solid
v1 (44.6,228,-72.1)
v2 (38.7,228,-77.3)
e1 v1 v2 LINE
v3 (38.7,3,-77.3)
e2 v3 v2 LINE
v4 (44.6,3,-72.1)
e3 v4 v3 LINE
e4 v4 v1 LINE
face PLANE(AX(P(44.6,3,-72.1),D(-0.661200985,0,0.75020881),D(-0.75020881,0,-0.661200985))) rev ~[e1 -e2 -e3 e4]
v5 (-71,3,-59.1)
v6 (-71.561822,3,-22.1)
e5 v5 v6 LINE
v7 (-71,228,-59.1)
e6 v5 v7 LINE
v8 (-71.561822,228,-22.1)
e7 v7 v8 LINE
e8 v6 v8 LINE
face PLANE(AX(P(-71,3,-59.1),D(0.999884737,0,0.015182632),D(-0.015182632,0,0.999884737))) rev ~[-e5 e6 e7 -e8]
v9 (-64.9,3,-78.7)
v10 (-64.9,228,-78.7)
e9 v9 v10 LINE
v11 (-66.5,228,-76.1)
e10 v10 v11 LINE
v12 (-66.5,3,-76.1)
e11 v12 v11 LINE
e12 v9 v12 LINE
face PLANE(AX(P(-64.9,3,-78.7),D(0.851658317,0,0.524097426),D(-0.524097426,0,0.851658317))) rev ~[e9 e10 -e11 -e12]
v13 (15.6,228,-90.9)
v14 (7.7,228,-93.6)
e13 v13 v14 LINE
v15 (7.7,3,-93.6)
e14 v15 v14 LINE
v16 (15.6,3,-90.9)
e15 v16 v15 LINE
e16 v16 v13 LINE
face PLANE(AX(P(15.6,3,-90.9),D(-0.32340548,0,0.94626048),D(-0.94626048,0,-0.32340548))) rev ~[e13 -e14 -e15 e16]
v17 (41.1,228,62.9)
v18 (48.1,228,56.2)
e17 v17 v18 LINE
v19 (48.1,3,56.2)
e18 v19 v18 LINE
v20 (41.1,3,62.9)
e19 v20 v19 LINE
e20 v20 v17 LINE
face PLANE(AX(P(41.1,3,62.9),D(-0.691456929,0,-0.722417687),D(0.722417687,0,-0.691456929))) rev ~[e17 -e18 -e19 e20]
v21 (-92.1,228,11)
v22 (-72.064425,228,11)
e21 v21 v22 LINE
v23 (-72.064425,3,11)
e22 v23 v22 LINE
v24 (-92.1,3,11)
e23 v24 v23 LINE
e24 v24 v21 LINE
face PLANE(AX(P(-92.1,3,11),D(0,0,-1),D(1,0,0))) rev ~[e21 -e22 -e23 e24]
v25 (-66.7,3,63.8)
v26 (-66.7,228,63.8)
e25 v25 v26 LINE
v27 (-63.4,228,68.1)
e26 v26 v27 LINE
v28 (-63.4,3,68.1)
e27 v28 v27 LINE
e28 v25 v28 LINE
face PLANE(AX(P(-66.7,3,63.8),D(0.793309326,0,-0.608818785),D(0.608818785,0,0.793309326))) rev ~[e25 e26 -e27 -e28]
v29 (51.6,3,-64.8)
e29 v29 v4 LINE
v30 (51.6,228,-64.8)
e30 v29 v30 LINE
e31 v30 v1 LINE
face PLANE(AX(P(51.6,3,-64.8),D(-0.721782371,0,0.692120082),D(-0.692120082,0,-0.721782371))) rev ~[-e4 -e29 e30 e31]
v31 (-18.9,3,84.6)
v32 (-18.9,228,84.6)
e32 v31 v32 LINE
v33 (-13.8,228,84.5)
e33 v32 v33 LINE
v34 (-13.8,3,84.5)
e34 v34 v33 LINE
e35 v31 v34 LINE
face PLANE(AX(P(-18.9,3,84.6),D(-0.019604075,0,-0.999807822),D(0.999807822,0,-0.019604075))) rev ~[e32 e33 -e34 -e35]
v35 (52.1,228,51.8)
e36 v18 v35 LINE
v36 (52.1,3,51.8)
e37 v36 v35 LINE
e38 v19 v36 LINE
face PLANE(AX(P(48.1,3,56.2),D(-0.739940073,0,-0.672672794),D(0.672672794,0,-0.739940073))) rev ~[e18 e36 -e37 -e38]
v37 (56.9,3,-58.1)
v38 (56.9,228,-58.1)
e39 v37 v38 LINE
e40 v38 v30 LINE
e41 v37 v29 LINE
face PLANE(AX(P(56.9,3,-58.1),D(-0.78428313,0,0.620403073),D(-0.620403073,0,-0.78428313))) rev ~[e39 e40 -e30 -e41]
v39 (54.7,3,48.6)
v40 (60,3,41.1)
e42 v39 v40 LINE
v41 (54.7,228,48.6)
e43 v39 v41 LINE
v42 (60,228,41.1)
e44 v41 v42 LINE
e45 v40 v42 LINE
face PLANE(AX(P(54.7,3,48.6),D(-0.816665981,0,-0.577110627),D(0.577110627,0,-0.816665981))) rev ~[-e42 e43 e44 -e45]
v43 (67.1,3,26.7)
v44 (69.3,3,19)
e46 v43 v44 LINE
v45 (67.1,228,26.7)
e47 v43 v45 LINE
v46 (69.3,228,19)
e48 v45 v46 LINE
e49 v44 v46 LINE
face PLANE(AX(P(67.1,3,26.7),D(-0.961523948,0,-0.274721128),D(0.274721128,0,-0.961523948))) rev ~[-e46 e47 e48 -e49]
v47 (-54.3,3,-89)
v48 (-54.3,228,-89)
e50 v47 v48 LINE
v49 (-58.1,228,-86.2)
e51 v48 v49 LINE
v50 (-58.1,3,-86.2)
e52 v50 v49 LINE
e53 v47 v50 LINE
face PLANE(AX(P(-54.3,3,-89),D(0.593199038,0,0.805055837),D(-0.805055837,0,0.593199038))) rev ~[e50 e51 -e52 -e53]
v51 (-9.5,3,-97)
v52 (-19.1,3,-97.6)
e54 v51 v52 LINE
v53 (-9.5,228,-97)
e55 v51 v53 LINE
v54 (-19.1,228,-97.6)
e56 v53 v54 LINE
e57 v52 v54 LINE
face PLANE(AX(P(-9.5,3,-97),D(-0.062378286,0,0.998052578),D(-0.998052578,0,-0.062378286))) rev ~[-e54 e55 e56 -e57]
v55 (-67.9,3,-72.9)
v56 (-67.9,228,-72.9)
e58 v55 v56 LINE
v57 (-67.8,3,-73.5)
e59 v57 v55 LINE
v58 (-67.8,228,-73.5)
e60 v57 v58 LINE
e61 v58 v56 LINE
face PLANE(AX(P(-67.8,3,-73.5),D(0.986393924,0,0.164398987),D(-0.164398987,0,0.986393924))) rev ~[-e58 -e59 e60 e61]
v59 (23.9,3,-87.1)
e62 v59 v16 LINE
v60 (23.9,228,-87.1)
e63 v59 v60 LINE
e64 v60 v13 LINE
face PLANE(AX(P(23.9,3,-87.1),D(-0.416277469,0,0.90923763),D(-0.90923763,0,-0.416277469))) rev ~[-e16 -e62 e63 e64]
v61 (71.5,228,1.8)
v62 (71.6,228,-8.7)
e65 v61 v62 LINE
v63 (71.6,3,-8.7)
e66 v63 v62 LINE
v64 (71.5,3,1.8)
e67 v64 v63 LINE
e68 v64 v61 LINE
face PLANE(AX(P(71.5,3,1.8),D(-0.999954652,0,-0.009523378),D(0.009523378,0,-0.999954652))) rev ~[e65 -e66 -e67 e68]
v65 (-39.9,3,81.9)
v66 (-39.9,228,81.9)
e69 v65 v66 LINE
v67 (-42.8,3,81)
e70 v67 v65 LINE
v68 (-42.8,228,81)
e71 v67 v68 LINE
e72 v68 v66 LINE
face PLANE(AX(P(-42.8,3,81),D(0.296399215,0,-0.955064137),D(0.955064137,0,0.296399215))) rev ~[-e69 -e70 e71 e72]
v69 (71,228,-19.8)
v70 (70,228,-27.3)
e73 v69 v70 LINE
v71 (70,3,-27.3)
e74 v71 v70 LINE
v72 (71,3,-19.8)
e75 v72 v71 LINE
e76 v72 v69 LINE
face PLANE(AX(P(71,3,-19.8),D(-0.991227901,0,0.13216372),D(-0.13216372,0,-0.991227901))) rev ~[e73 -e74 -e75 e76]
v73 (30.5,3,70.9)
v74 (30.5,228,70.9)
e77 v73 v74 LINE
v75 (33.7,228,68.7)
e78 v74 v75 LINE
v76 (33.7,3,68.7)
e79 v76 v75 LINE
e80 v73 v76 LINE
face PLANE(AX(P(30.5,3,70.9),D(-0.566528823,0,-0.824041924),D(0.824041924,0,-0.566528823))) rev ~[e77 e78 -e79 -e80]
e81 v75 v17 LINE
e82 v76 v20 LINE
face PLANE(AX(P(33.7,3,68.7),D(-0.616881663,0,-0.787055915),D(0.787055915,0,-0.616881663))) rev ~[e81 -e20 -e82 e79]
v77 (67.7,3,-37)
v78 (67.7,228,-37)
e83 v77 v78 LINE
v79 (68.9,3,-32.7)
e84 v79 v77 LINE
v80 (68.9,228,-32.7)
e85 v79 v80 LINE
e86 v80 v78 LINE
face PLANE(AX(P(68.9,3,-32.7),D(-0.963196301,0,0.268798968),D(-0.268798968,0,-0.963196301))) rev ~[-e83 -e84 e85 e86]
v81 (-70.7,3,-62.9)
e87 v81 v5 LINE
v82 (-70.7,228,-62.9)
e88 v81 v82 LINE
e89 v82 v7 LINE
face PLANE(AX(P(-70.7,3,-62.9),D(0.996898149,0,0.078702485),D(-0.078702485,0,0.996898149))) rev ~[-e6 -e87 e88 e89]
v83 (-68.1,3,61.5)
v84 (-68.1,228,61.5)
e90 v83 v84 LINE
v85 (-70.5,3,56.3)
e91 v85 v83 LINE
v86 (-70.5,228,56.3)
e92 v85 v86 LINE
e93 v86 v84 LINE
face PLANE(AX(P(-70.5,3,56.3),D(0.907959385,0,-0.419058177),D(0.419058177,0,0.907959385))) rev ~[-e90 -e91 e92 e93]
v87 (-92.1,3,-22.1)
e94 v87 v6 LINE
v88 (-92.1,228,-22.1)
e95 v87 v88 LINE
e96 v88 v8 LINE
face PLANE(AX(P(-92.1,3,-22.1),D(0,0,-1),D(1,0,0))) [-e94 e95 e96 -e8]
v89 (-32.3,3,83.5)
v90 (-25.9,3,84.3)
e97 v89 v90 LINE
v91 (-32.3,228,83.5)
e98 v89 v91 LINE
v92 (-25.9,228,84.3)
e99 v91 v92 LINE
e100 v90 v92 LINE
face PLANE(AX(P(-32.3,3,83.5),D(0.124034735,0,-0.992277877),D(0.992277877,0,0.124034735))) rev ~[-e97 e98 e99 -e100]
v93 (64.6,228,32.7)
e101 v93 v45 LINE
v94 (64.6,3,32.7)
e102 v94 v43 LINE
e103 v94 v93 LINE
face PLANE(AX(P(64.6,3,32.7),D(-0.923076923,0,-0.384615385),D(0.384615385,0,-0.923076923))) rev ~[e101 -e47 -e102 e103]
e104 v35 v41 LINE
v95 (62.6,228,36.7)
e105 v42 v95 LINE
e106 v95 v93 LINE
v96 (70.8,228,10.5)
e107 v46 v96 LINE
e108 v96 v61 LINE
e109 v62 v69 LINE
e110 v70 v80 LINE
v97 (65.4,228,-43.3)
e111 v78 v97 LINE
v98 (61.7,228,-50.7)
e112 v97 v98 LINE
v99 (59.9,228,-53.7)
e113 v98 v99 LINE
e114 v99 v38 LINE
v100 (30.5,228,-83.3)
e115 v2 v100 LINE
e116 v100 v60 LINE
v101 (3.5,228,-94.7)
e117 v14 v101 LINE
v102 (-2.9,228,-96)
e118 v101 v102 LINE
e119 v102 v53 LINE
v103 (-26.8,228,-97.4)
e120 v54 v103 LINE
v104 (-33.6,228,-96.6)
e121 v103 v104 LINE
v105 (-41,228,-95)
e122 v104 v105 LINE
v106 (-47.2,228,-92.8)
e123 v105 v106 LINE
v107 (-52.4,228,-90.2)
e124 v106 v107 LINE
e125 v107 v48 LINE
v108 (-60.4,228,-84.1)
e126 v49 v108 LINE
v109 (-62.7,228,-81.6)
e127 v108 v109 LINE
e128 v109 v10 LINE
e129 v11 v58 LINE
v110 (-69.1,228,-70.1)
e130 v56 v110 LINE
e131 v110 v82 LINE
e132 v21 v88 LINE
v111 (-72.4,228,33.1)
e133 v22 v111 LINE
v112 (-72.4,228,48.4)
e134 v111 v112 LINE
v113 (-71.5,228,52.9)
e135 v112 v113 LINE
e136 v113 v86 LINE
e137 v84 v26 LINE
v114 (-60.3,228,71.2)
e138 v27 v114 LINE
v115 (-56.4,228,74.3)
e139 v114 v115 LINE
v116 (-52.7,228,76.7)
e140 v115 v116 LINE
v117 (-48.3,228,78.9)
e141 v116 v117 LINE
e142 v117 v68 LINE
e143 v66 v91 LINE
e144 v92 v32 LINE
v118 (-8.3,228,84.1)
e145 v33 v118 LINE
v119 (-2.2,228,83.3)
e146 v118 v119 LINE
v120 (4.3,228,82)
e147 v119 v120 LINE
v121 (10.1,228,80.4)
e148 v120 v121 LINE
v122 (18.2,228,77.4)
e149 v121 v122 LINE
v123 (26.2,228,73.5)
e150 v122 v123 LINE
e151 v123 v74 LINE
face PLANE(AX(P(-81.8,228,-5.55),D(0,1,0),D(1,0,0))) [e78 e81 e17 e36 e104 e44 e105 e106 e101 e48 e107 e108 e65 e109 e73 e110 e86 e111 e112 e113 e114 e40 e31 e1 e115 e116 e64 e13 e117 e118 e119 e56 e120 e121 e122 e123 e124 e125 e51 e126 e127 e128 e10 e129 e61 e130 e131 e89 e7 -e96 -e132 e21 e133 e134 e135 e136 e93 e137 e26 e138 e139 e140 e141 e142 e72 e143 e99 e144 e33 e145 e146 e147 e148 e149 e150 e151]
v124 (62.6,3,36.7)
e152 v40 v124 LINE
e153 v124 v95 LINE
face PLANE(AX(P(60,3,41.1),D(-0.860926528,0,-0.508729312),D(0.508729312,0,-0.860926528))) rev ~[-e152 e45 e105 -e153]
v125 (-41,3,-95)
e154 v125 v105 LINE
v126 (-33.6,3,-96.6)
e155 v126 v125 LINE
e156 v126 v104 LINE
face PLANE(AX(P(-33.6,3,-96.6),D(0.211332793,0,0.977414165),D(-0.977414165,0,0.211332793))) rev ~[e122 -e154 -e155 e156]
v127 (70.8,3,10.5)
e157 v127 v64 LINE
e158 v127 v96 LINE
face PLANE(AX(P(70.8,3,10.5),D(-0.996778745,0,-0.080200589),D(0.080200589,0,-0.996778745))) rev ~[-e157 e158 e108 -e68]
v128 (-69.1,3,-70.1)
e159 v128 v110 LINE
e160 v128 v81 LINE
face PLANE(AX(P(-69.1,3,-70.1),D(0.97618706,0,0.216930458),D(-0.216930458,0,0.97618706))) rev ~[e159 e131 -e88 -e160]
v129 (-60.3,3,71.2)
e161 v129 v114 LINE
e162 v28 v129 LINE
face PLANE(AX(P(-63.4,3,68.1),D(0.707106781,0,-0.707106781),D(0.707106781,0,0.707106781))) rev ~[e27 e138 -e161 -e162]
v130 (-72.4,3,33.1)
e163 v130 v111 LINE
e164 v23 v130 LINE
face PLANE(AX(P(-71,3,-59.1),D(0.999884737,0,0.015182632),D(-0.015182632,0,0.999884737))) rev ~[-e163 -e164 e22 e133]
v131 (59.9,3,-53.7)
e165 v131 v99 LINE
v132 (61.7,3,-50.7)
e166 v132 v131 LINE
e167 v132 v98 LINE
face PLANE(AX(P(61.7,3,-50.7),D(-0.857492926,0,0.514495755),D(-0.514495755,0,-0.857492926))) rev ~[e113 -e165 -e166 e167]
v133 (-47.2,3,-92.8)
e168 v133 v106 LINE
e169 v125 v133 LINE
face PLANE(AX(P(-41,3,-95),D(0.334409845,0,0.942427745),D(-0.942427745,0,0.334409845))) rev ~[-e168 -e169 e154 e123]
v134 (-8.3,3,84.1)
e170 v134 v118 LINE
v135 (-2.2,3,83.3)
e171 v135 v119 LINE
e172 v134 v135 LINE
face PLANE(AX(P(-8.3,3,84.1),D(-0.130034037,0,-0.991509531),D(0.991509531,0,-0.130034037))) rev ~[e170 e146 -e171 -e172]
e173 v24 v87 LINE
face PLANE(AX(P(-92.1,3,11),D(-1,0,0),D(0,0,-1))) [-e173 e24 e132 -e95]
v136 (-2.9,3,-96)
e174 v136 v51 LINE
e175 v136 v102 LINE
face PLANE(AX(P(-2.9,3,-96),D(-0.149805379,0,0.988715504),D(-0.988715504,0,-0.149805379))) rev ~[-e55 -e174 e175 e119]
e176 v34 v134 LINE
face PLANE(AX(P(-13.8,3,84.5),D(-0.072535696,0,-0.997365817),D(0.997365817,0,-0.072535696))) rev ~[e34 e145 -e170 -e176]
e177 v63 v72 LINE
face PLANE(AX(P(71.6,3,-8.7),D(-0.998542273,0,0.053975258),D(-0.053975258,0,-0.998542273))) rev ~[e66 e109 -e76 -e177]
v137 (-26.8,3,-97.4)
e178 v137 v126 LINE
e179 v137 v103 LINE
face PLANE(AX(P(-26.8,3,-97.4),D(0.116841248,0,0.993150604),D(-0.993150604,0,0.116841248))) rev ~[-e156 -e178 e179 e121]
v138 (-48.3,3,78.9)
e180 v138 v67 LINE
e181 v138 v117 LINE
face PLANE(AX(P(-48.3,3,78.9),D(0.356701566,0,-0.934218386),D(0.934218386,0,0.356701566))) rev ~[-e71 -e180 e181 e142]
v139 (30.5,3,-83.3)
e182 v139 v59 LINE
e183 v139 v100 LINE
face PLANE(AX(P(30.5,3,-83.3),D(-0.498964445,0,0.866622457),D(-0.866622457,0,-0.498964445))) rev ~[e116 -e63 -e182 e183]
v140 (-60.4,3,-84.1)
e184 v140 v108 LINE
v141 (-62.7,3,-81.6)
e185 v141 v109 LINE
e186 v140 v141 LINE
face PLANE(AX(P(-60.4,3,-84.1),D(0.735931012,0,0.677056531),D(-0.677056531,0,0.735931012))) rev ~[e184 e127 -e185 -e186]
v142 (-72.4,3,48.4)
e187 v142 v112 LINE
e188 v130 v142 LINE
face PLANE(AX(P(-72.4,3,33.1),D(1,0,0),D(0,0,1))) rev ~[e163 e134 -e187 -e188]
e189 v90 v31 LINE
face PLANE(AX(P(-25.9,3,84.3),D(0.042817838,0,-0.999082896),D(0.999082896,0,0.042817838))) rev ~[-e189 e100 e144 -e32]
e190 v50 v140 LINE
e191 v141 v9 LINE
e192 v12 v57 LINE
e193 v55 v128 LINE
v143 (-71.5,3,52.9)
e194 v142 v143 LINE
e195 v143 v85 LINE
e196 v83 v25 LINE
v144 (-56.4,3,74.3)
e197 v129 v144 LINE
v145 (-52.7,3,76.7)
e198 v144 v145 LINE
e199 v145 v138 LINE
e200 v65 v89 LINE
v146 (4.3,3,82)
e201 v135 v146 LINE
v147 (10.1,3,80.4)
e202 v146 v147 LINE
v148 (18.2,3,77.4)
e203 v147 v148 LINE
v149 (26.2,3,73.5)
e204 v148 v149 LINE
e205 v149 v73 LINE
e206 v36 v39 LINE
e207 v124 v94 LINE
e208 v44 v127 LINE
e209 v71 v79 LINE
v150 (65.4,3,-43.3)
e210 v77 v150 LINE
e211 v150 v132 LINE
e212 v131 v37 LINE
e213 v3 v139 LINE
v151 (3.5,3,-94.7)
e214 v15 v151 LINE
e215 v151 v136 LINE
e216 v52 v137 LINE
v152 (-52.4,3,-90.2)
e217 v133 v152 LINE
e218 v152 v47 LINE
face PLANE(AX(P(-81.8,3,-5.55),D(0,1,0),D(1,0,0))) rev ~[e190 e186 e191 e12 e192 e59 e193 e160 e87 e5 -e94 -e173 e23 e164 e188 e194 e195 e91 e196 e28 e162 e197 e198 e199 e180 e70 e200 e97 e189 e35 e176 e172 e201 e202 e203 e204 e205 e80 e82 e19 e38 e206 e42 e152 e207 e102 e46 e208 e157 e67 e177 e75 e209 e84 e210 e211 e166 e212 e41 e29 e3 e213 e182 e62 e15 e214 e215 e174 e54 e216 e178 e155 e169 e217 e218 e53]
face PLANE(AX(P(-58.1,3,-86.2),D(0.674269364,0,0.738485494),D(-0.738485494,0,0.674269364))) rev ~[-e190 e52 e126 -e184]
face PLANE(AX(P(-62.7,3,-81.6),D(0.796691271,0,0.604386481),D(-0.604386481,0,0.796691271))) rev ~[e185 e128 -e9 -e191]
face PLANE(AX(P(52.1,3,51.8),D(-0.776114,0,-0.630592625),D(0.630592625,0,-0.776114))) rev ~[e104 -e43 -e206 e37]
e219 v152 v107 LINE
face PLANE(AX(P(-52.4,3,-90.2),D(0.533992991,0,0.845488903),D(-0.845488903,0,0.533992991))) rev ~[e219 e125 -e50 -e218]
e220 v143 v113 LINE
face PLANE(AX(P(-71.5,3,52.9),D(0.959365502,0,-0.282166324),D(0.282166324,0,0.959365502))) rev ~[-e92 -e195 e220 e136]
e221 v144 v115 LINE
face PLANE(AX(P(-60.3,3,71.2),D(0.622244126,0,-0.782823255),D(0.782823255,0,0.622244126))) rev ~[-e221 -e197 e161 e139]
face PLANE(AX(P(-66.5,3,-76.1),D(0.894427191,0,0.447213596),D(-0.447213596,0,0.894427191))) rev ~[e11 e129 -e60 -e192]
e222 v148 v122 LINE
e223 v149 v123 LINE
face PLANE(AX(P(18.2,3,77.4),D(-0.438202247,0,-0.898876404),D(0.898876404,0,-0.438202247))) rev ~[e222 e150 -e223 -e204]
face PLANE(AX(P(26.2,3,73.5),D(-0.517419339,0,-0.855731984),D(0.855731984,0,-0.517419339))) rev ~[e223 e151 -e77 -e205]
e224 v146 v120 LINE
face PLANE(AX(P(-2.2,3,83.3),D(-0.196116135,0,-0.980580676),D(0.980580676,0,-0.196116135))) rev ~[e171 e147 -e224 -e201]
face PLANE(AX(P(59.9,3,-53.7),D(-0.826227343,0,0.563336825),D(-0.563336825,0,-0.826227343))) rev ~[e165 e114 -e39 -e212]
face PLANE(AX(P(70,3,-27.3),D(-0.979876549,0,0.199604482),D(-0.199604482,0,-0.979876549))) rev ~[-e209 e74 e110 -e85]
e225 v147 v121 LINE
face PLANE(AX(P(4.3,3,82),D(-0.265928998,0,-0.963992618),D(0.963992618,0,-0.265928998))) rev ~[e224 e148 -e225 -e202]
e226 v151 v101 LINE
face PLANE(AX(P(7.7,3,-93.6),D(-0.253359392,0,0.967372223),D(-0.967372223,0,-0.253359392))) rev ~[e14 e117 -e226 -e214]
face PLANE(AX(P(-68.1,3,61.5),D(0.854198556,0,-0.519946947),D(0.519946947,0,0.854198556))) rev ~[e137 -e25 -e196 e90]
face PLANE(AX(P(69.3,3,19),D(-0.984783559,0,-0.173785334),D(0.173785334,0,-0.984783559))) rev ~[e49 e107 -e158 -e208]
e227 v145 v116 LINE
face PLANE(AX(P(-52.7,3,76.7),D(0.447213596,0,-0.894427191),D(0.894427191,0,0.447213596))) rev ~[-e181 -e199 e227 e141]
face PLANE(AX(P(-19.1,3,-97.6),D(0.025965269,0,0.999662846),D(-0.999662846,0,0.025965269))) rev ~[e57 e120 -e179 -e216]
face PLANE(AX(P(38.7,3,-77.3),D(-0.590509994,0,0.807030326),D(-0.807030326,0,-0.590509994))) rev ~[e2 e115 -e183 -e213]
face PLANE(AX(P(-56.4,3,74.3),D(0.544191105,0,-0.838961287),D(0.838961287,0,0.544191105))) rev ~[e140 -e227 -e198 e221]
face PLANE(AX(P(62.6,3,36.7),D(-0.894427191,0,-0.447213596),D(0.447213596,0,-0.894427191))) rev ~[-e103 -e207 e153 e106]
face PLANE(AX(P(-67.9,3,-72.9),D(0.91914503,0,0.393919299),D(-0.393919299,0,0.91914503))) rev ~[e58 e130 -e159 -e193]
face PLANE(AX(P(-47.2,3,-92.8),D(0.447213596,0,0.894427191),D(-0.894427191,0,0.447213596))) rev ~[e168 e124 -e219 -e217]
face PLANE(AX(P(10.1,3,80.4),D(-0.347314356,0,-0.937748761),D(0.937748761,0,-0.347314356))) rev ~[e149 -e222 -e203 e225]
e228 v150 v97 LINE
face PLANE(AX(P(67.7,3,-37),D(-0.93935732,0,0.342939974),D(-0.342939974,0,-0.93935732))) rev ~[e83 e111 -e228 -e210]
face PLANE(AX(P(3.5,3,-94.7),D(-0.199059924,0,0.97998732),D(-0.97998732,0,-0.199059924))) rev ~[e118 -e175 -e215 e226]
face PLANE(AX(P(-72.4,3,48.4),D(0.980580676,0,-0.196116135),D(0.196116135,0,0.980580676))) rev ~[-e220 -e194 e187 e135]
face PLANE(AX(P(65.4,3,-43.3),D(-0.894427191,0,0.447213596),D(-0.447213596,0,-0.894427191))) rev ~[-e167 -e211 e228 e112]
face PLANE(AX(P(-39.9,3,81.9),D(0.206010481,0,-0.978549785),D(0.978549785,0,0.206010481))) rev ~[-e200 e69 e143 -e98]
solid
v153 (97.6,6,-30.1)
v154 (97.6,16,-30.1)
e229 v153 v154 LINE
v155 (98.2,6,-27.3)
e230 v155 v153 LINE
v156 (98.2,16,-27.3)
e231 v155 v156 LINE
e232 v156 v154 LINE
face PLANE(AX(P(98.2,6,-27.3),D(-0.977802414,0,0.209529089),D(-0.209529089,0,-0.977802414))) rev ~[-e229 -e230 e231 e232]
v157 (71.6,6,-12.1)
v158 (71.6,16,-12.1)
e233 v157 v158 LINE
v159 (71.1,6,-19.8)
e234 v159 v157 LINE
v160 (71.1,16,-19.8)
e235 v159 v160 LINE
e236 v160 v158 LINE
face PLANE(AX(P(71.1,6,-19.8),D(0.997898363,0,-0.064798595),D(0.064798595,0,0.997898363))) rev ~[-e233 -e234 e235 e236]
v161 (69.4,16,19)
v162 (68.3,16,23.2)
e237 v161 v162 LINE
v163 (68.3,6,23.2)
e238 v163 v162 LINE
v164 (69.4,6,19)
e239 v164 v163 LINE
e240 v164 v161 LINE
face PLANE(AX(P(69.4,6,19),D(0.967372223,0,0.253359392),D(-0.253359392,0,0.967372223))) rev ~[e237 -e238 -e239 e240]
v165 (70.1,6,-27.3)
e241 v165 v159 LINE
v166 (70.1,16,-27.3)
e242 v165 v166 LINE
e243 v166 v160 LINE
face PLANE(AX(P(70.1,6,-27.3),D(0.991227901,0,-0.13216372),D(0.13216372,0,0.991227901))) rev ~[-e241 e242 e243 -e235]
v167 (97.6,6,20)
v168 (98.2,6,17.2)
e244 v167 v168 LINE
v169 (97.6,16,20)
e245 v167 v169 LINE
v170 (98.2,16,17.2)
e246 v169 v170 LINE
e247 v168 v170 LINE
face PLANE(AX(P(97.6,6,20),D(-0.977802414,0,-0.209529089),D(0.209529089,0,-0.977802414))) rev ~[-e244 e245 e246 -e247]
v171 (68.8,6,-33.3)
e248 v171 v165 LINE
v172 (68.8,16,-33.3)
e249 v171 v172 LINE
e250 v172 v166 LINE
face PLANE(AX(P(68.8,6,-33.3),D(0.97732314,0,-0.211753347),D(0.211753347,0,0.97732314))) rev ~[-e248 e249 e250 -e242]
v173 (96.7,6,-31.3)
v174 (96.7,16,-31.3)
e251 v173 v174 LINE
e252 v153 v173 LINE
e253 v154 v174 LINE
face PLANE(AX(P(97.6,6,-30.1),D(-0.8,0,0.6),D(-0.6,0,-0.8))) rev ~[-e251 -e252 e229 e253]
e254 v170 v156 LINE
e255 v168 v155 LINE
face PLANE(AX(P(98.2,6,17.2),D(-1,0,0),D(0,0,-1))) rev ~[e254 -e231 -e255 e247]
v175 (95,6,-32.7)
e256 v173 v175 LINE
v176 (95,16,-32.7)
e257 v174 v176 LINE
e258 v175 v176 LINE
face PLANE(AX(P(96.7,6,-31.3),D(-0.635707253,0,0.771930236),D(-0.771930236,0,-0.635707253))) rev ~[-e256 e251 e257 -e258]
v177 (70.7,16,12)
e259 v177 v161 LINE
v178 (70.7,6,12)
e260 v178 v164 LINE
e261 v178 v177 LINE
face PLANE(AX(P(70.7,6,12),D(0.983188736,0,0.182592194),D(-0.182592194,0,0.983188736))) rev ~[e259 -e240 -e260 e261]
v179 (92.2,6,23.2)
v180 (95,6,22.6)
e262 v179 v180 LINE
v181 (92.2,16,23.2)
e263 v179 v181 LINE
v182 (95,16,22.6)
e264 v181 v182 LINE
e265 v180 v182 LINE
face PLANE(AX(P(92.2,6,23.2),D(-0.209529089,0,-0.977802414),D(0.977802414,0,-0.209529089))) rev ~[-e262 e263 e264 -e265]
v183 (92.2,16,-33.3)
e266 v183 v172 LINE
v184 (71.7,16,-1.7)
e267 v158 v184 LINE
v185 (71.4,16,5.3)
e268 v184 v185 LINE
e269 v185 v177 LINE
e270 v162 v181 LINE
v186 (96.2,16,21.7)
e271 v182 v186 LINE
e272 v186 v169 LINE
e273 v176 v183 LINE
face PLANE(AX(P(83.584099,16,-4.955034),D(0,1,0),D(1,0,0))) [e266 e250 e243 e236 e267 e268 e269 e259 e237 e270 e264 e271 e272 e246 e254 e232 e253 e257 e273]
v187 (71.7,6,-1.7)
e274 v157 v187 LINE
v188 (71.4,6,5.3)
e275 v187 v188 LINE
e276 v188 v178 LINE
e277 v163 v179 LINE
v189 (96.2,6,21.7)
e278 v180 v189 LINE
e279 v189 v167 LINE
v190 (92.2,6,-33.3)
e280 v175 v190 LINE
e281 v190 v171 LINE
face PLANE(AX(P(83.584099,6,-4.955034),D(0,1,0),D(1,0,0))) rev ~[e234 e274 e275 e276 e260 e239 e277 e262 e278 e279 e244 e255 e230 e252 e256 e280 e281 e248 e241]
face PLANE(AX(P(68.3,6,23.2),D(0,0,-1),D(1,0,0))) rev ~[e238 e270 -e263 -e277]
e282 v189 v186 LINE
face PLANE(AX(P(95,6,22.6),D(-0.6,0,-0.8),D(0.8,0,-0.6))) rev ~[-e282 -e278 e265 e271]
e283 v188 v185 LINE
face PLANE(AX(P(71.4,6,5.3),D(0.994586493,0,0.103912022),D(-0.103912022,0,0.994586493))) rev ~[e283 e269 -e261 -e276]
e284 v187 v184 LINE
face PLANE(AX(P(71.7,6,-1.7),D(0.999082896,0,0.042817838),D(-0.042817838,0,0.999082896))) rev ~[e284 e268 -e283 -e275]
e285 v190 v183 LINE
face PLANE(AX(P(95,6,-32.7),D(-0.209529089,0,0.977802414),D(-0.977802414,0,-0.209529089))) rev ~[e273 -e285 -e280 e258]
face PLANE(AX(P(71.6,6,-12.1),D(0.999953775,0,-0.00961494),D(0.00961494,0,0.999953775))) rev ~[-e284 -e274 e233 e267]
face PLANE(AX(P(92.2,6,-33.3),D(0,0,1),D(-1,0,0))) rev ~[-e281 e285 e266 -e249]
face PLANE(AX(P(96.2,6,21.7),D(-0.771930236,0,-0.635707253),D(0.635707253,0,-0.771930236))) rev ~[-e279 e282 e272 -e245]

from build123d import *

# Parameters (mm, degrees)
BIN_BODY_DEPTH         = 225
SKETCH2_W              = 20.6
SKETCH2_H              = 33.1
ROD_CHANNEL_DEPTH      = 225
PEDAL_PAD_TOP_16_DEPTH = 10


with BuildPart() as part:
    # Sketch1 → Bin body (new body)
    with BuildSketch(Plane(origin=(0, 3, 0), x_dir=(1, 0, 0), z_dir=(0, 1, 0))):
        Polygon((-26.8, 97.4), (-33.6, 96.6), (-41, 95), (-47.2, 92.8), (-52.4, 90.2), (-54.3, 89), (-58.1, 86.2), (-60.4, 84.1), (-62.7, 81.6), (-64.9, 78.7), (-66.5, 76.1), (-67.8, 73.5), (-67.9, 72.9), (-69.1, 70.1), (-70.7, 62.9), (-71, 59.1), (-72.4, -33.1), (-72.4, -48.4), (-71.5, -52.9), (-70.5, -56.3), (-68.1, -61.5), (-66.7, -63.8), (-63.4, -68.1), (-60.3, -71.2), (-56.4, -74.3), (-52.7, -76.7), (-48.3, -78.9), (-42.8, -81), (-39.9, -81.9), (-32.3, -83.5), (-25.9, -84.3), (-18.9, -84.6), (-13.8, -84.5), (-8.3, -84.1), (-2.2, -83.3), (4.3, -82), (10.1, -80.4), (18.2, -77.4), (26.2, -73.5), (30.5, -70.9), (33.7, -68.7), (41.1, -62.9), (48.1, -56.2), (52.1, -51.8), (54.7, -48.6), (60, -41.1), (62.6, -36.7), (64.6, -32.7), (67.1, -26.7), (69.3, -19), (70.8, -10.5), (71.5, -1.8), (71.6, 8.7), (71, 19.8), (70, 27.3), (68.9, 32.7), (67.7, 37), (65.4, 43.3), (61.7, 50.7), (59.9, 53.7), (56.9, 58.1), (51.6, 64.8), (44.6, 72.1), (38.7, 77.3), (30.5, 83.3), (23.9, 87.1), (15.6, 90.9), (7.7, 93.6), (3.5, 94.7), (-2.9, 96), (-9.5, 97), (-19.1, 97.6), align=None)
    extrude(amount=BIN_BODY_DEPTH)

    # Sketch2 → Rod channel (add)
    with BuildSketch(Plane(origin=(0, 3, 0), x_dir=(1, 0, 0), z_dir=(0, 1, 0))):
        with Locations((-81.8, 5.55)):
            Rectangle(SKETCH2_W, SKETCH2_H)
    extrude(amount=ROD_CHANNEL_DEPTH)


with BuildPart() as body_2:
    # Sketch3 → Pedal pad (top 16) (new body)
    with BuildSketch(Plane(origin=(0, 6, 0), x_dir=(1, 0, 0), z_dir=(0, 1, 0))):
        Polygon((68.8, 33.3), (70.1, 27.3), (71.1, 19.8), (71.6, 12.1), (71.7, 1.7), (71.4, -5.3), (70.7, -12), (69.4, -19), (68.3, -23.2), (92.2, -23.2), (95, -22.6), (96.2, -21.7), (97.6, -20), (98.2, -17.2), (98.2, 27.3), (97.6, 30.1), (96.7, 31.3), (95, 32.7), (92.2, 33.3), align=None)
    extrude(amount=PEDAL_PAD_TOP_16_DEPTH)


solid = Compound([part.part, body_2.part])
